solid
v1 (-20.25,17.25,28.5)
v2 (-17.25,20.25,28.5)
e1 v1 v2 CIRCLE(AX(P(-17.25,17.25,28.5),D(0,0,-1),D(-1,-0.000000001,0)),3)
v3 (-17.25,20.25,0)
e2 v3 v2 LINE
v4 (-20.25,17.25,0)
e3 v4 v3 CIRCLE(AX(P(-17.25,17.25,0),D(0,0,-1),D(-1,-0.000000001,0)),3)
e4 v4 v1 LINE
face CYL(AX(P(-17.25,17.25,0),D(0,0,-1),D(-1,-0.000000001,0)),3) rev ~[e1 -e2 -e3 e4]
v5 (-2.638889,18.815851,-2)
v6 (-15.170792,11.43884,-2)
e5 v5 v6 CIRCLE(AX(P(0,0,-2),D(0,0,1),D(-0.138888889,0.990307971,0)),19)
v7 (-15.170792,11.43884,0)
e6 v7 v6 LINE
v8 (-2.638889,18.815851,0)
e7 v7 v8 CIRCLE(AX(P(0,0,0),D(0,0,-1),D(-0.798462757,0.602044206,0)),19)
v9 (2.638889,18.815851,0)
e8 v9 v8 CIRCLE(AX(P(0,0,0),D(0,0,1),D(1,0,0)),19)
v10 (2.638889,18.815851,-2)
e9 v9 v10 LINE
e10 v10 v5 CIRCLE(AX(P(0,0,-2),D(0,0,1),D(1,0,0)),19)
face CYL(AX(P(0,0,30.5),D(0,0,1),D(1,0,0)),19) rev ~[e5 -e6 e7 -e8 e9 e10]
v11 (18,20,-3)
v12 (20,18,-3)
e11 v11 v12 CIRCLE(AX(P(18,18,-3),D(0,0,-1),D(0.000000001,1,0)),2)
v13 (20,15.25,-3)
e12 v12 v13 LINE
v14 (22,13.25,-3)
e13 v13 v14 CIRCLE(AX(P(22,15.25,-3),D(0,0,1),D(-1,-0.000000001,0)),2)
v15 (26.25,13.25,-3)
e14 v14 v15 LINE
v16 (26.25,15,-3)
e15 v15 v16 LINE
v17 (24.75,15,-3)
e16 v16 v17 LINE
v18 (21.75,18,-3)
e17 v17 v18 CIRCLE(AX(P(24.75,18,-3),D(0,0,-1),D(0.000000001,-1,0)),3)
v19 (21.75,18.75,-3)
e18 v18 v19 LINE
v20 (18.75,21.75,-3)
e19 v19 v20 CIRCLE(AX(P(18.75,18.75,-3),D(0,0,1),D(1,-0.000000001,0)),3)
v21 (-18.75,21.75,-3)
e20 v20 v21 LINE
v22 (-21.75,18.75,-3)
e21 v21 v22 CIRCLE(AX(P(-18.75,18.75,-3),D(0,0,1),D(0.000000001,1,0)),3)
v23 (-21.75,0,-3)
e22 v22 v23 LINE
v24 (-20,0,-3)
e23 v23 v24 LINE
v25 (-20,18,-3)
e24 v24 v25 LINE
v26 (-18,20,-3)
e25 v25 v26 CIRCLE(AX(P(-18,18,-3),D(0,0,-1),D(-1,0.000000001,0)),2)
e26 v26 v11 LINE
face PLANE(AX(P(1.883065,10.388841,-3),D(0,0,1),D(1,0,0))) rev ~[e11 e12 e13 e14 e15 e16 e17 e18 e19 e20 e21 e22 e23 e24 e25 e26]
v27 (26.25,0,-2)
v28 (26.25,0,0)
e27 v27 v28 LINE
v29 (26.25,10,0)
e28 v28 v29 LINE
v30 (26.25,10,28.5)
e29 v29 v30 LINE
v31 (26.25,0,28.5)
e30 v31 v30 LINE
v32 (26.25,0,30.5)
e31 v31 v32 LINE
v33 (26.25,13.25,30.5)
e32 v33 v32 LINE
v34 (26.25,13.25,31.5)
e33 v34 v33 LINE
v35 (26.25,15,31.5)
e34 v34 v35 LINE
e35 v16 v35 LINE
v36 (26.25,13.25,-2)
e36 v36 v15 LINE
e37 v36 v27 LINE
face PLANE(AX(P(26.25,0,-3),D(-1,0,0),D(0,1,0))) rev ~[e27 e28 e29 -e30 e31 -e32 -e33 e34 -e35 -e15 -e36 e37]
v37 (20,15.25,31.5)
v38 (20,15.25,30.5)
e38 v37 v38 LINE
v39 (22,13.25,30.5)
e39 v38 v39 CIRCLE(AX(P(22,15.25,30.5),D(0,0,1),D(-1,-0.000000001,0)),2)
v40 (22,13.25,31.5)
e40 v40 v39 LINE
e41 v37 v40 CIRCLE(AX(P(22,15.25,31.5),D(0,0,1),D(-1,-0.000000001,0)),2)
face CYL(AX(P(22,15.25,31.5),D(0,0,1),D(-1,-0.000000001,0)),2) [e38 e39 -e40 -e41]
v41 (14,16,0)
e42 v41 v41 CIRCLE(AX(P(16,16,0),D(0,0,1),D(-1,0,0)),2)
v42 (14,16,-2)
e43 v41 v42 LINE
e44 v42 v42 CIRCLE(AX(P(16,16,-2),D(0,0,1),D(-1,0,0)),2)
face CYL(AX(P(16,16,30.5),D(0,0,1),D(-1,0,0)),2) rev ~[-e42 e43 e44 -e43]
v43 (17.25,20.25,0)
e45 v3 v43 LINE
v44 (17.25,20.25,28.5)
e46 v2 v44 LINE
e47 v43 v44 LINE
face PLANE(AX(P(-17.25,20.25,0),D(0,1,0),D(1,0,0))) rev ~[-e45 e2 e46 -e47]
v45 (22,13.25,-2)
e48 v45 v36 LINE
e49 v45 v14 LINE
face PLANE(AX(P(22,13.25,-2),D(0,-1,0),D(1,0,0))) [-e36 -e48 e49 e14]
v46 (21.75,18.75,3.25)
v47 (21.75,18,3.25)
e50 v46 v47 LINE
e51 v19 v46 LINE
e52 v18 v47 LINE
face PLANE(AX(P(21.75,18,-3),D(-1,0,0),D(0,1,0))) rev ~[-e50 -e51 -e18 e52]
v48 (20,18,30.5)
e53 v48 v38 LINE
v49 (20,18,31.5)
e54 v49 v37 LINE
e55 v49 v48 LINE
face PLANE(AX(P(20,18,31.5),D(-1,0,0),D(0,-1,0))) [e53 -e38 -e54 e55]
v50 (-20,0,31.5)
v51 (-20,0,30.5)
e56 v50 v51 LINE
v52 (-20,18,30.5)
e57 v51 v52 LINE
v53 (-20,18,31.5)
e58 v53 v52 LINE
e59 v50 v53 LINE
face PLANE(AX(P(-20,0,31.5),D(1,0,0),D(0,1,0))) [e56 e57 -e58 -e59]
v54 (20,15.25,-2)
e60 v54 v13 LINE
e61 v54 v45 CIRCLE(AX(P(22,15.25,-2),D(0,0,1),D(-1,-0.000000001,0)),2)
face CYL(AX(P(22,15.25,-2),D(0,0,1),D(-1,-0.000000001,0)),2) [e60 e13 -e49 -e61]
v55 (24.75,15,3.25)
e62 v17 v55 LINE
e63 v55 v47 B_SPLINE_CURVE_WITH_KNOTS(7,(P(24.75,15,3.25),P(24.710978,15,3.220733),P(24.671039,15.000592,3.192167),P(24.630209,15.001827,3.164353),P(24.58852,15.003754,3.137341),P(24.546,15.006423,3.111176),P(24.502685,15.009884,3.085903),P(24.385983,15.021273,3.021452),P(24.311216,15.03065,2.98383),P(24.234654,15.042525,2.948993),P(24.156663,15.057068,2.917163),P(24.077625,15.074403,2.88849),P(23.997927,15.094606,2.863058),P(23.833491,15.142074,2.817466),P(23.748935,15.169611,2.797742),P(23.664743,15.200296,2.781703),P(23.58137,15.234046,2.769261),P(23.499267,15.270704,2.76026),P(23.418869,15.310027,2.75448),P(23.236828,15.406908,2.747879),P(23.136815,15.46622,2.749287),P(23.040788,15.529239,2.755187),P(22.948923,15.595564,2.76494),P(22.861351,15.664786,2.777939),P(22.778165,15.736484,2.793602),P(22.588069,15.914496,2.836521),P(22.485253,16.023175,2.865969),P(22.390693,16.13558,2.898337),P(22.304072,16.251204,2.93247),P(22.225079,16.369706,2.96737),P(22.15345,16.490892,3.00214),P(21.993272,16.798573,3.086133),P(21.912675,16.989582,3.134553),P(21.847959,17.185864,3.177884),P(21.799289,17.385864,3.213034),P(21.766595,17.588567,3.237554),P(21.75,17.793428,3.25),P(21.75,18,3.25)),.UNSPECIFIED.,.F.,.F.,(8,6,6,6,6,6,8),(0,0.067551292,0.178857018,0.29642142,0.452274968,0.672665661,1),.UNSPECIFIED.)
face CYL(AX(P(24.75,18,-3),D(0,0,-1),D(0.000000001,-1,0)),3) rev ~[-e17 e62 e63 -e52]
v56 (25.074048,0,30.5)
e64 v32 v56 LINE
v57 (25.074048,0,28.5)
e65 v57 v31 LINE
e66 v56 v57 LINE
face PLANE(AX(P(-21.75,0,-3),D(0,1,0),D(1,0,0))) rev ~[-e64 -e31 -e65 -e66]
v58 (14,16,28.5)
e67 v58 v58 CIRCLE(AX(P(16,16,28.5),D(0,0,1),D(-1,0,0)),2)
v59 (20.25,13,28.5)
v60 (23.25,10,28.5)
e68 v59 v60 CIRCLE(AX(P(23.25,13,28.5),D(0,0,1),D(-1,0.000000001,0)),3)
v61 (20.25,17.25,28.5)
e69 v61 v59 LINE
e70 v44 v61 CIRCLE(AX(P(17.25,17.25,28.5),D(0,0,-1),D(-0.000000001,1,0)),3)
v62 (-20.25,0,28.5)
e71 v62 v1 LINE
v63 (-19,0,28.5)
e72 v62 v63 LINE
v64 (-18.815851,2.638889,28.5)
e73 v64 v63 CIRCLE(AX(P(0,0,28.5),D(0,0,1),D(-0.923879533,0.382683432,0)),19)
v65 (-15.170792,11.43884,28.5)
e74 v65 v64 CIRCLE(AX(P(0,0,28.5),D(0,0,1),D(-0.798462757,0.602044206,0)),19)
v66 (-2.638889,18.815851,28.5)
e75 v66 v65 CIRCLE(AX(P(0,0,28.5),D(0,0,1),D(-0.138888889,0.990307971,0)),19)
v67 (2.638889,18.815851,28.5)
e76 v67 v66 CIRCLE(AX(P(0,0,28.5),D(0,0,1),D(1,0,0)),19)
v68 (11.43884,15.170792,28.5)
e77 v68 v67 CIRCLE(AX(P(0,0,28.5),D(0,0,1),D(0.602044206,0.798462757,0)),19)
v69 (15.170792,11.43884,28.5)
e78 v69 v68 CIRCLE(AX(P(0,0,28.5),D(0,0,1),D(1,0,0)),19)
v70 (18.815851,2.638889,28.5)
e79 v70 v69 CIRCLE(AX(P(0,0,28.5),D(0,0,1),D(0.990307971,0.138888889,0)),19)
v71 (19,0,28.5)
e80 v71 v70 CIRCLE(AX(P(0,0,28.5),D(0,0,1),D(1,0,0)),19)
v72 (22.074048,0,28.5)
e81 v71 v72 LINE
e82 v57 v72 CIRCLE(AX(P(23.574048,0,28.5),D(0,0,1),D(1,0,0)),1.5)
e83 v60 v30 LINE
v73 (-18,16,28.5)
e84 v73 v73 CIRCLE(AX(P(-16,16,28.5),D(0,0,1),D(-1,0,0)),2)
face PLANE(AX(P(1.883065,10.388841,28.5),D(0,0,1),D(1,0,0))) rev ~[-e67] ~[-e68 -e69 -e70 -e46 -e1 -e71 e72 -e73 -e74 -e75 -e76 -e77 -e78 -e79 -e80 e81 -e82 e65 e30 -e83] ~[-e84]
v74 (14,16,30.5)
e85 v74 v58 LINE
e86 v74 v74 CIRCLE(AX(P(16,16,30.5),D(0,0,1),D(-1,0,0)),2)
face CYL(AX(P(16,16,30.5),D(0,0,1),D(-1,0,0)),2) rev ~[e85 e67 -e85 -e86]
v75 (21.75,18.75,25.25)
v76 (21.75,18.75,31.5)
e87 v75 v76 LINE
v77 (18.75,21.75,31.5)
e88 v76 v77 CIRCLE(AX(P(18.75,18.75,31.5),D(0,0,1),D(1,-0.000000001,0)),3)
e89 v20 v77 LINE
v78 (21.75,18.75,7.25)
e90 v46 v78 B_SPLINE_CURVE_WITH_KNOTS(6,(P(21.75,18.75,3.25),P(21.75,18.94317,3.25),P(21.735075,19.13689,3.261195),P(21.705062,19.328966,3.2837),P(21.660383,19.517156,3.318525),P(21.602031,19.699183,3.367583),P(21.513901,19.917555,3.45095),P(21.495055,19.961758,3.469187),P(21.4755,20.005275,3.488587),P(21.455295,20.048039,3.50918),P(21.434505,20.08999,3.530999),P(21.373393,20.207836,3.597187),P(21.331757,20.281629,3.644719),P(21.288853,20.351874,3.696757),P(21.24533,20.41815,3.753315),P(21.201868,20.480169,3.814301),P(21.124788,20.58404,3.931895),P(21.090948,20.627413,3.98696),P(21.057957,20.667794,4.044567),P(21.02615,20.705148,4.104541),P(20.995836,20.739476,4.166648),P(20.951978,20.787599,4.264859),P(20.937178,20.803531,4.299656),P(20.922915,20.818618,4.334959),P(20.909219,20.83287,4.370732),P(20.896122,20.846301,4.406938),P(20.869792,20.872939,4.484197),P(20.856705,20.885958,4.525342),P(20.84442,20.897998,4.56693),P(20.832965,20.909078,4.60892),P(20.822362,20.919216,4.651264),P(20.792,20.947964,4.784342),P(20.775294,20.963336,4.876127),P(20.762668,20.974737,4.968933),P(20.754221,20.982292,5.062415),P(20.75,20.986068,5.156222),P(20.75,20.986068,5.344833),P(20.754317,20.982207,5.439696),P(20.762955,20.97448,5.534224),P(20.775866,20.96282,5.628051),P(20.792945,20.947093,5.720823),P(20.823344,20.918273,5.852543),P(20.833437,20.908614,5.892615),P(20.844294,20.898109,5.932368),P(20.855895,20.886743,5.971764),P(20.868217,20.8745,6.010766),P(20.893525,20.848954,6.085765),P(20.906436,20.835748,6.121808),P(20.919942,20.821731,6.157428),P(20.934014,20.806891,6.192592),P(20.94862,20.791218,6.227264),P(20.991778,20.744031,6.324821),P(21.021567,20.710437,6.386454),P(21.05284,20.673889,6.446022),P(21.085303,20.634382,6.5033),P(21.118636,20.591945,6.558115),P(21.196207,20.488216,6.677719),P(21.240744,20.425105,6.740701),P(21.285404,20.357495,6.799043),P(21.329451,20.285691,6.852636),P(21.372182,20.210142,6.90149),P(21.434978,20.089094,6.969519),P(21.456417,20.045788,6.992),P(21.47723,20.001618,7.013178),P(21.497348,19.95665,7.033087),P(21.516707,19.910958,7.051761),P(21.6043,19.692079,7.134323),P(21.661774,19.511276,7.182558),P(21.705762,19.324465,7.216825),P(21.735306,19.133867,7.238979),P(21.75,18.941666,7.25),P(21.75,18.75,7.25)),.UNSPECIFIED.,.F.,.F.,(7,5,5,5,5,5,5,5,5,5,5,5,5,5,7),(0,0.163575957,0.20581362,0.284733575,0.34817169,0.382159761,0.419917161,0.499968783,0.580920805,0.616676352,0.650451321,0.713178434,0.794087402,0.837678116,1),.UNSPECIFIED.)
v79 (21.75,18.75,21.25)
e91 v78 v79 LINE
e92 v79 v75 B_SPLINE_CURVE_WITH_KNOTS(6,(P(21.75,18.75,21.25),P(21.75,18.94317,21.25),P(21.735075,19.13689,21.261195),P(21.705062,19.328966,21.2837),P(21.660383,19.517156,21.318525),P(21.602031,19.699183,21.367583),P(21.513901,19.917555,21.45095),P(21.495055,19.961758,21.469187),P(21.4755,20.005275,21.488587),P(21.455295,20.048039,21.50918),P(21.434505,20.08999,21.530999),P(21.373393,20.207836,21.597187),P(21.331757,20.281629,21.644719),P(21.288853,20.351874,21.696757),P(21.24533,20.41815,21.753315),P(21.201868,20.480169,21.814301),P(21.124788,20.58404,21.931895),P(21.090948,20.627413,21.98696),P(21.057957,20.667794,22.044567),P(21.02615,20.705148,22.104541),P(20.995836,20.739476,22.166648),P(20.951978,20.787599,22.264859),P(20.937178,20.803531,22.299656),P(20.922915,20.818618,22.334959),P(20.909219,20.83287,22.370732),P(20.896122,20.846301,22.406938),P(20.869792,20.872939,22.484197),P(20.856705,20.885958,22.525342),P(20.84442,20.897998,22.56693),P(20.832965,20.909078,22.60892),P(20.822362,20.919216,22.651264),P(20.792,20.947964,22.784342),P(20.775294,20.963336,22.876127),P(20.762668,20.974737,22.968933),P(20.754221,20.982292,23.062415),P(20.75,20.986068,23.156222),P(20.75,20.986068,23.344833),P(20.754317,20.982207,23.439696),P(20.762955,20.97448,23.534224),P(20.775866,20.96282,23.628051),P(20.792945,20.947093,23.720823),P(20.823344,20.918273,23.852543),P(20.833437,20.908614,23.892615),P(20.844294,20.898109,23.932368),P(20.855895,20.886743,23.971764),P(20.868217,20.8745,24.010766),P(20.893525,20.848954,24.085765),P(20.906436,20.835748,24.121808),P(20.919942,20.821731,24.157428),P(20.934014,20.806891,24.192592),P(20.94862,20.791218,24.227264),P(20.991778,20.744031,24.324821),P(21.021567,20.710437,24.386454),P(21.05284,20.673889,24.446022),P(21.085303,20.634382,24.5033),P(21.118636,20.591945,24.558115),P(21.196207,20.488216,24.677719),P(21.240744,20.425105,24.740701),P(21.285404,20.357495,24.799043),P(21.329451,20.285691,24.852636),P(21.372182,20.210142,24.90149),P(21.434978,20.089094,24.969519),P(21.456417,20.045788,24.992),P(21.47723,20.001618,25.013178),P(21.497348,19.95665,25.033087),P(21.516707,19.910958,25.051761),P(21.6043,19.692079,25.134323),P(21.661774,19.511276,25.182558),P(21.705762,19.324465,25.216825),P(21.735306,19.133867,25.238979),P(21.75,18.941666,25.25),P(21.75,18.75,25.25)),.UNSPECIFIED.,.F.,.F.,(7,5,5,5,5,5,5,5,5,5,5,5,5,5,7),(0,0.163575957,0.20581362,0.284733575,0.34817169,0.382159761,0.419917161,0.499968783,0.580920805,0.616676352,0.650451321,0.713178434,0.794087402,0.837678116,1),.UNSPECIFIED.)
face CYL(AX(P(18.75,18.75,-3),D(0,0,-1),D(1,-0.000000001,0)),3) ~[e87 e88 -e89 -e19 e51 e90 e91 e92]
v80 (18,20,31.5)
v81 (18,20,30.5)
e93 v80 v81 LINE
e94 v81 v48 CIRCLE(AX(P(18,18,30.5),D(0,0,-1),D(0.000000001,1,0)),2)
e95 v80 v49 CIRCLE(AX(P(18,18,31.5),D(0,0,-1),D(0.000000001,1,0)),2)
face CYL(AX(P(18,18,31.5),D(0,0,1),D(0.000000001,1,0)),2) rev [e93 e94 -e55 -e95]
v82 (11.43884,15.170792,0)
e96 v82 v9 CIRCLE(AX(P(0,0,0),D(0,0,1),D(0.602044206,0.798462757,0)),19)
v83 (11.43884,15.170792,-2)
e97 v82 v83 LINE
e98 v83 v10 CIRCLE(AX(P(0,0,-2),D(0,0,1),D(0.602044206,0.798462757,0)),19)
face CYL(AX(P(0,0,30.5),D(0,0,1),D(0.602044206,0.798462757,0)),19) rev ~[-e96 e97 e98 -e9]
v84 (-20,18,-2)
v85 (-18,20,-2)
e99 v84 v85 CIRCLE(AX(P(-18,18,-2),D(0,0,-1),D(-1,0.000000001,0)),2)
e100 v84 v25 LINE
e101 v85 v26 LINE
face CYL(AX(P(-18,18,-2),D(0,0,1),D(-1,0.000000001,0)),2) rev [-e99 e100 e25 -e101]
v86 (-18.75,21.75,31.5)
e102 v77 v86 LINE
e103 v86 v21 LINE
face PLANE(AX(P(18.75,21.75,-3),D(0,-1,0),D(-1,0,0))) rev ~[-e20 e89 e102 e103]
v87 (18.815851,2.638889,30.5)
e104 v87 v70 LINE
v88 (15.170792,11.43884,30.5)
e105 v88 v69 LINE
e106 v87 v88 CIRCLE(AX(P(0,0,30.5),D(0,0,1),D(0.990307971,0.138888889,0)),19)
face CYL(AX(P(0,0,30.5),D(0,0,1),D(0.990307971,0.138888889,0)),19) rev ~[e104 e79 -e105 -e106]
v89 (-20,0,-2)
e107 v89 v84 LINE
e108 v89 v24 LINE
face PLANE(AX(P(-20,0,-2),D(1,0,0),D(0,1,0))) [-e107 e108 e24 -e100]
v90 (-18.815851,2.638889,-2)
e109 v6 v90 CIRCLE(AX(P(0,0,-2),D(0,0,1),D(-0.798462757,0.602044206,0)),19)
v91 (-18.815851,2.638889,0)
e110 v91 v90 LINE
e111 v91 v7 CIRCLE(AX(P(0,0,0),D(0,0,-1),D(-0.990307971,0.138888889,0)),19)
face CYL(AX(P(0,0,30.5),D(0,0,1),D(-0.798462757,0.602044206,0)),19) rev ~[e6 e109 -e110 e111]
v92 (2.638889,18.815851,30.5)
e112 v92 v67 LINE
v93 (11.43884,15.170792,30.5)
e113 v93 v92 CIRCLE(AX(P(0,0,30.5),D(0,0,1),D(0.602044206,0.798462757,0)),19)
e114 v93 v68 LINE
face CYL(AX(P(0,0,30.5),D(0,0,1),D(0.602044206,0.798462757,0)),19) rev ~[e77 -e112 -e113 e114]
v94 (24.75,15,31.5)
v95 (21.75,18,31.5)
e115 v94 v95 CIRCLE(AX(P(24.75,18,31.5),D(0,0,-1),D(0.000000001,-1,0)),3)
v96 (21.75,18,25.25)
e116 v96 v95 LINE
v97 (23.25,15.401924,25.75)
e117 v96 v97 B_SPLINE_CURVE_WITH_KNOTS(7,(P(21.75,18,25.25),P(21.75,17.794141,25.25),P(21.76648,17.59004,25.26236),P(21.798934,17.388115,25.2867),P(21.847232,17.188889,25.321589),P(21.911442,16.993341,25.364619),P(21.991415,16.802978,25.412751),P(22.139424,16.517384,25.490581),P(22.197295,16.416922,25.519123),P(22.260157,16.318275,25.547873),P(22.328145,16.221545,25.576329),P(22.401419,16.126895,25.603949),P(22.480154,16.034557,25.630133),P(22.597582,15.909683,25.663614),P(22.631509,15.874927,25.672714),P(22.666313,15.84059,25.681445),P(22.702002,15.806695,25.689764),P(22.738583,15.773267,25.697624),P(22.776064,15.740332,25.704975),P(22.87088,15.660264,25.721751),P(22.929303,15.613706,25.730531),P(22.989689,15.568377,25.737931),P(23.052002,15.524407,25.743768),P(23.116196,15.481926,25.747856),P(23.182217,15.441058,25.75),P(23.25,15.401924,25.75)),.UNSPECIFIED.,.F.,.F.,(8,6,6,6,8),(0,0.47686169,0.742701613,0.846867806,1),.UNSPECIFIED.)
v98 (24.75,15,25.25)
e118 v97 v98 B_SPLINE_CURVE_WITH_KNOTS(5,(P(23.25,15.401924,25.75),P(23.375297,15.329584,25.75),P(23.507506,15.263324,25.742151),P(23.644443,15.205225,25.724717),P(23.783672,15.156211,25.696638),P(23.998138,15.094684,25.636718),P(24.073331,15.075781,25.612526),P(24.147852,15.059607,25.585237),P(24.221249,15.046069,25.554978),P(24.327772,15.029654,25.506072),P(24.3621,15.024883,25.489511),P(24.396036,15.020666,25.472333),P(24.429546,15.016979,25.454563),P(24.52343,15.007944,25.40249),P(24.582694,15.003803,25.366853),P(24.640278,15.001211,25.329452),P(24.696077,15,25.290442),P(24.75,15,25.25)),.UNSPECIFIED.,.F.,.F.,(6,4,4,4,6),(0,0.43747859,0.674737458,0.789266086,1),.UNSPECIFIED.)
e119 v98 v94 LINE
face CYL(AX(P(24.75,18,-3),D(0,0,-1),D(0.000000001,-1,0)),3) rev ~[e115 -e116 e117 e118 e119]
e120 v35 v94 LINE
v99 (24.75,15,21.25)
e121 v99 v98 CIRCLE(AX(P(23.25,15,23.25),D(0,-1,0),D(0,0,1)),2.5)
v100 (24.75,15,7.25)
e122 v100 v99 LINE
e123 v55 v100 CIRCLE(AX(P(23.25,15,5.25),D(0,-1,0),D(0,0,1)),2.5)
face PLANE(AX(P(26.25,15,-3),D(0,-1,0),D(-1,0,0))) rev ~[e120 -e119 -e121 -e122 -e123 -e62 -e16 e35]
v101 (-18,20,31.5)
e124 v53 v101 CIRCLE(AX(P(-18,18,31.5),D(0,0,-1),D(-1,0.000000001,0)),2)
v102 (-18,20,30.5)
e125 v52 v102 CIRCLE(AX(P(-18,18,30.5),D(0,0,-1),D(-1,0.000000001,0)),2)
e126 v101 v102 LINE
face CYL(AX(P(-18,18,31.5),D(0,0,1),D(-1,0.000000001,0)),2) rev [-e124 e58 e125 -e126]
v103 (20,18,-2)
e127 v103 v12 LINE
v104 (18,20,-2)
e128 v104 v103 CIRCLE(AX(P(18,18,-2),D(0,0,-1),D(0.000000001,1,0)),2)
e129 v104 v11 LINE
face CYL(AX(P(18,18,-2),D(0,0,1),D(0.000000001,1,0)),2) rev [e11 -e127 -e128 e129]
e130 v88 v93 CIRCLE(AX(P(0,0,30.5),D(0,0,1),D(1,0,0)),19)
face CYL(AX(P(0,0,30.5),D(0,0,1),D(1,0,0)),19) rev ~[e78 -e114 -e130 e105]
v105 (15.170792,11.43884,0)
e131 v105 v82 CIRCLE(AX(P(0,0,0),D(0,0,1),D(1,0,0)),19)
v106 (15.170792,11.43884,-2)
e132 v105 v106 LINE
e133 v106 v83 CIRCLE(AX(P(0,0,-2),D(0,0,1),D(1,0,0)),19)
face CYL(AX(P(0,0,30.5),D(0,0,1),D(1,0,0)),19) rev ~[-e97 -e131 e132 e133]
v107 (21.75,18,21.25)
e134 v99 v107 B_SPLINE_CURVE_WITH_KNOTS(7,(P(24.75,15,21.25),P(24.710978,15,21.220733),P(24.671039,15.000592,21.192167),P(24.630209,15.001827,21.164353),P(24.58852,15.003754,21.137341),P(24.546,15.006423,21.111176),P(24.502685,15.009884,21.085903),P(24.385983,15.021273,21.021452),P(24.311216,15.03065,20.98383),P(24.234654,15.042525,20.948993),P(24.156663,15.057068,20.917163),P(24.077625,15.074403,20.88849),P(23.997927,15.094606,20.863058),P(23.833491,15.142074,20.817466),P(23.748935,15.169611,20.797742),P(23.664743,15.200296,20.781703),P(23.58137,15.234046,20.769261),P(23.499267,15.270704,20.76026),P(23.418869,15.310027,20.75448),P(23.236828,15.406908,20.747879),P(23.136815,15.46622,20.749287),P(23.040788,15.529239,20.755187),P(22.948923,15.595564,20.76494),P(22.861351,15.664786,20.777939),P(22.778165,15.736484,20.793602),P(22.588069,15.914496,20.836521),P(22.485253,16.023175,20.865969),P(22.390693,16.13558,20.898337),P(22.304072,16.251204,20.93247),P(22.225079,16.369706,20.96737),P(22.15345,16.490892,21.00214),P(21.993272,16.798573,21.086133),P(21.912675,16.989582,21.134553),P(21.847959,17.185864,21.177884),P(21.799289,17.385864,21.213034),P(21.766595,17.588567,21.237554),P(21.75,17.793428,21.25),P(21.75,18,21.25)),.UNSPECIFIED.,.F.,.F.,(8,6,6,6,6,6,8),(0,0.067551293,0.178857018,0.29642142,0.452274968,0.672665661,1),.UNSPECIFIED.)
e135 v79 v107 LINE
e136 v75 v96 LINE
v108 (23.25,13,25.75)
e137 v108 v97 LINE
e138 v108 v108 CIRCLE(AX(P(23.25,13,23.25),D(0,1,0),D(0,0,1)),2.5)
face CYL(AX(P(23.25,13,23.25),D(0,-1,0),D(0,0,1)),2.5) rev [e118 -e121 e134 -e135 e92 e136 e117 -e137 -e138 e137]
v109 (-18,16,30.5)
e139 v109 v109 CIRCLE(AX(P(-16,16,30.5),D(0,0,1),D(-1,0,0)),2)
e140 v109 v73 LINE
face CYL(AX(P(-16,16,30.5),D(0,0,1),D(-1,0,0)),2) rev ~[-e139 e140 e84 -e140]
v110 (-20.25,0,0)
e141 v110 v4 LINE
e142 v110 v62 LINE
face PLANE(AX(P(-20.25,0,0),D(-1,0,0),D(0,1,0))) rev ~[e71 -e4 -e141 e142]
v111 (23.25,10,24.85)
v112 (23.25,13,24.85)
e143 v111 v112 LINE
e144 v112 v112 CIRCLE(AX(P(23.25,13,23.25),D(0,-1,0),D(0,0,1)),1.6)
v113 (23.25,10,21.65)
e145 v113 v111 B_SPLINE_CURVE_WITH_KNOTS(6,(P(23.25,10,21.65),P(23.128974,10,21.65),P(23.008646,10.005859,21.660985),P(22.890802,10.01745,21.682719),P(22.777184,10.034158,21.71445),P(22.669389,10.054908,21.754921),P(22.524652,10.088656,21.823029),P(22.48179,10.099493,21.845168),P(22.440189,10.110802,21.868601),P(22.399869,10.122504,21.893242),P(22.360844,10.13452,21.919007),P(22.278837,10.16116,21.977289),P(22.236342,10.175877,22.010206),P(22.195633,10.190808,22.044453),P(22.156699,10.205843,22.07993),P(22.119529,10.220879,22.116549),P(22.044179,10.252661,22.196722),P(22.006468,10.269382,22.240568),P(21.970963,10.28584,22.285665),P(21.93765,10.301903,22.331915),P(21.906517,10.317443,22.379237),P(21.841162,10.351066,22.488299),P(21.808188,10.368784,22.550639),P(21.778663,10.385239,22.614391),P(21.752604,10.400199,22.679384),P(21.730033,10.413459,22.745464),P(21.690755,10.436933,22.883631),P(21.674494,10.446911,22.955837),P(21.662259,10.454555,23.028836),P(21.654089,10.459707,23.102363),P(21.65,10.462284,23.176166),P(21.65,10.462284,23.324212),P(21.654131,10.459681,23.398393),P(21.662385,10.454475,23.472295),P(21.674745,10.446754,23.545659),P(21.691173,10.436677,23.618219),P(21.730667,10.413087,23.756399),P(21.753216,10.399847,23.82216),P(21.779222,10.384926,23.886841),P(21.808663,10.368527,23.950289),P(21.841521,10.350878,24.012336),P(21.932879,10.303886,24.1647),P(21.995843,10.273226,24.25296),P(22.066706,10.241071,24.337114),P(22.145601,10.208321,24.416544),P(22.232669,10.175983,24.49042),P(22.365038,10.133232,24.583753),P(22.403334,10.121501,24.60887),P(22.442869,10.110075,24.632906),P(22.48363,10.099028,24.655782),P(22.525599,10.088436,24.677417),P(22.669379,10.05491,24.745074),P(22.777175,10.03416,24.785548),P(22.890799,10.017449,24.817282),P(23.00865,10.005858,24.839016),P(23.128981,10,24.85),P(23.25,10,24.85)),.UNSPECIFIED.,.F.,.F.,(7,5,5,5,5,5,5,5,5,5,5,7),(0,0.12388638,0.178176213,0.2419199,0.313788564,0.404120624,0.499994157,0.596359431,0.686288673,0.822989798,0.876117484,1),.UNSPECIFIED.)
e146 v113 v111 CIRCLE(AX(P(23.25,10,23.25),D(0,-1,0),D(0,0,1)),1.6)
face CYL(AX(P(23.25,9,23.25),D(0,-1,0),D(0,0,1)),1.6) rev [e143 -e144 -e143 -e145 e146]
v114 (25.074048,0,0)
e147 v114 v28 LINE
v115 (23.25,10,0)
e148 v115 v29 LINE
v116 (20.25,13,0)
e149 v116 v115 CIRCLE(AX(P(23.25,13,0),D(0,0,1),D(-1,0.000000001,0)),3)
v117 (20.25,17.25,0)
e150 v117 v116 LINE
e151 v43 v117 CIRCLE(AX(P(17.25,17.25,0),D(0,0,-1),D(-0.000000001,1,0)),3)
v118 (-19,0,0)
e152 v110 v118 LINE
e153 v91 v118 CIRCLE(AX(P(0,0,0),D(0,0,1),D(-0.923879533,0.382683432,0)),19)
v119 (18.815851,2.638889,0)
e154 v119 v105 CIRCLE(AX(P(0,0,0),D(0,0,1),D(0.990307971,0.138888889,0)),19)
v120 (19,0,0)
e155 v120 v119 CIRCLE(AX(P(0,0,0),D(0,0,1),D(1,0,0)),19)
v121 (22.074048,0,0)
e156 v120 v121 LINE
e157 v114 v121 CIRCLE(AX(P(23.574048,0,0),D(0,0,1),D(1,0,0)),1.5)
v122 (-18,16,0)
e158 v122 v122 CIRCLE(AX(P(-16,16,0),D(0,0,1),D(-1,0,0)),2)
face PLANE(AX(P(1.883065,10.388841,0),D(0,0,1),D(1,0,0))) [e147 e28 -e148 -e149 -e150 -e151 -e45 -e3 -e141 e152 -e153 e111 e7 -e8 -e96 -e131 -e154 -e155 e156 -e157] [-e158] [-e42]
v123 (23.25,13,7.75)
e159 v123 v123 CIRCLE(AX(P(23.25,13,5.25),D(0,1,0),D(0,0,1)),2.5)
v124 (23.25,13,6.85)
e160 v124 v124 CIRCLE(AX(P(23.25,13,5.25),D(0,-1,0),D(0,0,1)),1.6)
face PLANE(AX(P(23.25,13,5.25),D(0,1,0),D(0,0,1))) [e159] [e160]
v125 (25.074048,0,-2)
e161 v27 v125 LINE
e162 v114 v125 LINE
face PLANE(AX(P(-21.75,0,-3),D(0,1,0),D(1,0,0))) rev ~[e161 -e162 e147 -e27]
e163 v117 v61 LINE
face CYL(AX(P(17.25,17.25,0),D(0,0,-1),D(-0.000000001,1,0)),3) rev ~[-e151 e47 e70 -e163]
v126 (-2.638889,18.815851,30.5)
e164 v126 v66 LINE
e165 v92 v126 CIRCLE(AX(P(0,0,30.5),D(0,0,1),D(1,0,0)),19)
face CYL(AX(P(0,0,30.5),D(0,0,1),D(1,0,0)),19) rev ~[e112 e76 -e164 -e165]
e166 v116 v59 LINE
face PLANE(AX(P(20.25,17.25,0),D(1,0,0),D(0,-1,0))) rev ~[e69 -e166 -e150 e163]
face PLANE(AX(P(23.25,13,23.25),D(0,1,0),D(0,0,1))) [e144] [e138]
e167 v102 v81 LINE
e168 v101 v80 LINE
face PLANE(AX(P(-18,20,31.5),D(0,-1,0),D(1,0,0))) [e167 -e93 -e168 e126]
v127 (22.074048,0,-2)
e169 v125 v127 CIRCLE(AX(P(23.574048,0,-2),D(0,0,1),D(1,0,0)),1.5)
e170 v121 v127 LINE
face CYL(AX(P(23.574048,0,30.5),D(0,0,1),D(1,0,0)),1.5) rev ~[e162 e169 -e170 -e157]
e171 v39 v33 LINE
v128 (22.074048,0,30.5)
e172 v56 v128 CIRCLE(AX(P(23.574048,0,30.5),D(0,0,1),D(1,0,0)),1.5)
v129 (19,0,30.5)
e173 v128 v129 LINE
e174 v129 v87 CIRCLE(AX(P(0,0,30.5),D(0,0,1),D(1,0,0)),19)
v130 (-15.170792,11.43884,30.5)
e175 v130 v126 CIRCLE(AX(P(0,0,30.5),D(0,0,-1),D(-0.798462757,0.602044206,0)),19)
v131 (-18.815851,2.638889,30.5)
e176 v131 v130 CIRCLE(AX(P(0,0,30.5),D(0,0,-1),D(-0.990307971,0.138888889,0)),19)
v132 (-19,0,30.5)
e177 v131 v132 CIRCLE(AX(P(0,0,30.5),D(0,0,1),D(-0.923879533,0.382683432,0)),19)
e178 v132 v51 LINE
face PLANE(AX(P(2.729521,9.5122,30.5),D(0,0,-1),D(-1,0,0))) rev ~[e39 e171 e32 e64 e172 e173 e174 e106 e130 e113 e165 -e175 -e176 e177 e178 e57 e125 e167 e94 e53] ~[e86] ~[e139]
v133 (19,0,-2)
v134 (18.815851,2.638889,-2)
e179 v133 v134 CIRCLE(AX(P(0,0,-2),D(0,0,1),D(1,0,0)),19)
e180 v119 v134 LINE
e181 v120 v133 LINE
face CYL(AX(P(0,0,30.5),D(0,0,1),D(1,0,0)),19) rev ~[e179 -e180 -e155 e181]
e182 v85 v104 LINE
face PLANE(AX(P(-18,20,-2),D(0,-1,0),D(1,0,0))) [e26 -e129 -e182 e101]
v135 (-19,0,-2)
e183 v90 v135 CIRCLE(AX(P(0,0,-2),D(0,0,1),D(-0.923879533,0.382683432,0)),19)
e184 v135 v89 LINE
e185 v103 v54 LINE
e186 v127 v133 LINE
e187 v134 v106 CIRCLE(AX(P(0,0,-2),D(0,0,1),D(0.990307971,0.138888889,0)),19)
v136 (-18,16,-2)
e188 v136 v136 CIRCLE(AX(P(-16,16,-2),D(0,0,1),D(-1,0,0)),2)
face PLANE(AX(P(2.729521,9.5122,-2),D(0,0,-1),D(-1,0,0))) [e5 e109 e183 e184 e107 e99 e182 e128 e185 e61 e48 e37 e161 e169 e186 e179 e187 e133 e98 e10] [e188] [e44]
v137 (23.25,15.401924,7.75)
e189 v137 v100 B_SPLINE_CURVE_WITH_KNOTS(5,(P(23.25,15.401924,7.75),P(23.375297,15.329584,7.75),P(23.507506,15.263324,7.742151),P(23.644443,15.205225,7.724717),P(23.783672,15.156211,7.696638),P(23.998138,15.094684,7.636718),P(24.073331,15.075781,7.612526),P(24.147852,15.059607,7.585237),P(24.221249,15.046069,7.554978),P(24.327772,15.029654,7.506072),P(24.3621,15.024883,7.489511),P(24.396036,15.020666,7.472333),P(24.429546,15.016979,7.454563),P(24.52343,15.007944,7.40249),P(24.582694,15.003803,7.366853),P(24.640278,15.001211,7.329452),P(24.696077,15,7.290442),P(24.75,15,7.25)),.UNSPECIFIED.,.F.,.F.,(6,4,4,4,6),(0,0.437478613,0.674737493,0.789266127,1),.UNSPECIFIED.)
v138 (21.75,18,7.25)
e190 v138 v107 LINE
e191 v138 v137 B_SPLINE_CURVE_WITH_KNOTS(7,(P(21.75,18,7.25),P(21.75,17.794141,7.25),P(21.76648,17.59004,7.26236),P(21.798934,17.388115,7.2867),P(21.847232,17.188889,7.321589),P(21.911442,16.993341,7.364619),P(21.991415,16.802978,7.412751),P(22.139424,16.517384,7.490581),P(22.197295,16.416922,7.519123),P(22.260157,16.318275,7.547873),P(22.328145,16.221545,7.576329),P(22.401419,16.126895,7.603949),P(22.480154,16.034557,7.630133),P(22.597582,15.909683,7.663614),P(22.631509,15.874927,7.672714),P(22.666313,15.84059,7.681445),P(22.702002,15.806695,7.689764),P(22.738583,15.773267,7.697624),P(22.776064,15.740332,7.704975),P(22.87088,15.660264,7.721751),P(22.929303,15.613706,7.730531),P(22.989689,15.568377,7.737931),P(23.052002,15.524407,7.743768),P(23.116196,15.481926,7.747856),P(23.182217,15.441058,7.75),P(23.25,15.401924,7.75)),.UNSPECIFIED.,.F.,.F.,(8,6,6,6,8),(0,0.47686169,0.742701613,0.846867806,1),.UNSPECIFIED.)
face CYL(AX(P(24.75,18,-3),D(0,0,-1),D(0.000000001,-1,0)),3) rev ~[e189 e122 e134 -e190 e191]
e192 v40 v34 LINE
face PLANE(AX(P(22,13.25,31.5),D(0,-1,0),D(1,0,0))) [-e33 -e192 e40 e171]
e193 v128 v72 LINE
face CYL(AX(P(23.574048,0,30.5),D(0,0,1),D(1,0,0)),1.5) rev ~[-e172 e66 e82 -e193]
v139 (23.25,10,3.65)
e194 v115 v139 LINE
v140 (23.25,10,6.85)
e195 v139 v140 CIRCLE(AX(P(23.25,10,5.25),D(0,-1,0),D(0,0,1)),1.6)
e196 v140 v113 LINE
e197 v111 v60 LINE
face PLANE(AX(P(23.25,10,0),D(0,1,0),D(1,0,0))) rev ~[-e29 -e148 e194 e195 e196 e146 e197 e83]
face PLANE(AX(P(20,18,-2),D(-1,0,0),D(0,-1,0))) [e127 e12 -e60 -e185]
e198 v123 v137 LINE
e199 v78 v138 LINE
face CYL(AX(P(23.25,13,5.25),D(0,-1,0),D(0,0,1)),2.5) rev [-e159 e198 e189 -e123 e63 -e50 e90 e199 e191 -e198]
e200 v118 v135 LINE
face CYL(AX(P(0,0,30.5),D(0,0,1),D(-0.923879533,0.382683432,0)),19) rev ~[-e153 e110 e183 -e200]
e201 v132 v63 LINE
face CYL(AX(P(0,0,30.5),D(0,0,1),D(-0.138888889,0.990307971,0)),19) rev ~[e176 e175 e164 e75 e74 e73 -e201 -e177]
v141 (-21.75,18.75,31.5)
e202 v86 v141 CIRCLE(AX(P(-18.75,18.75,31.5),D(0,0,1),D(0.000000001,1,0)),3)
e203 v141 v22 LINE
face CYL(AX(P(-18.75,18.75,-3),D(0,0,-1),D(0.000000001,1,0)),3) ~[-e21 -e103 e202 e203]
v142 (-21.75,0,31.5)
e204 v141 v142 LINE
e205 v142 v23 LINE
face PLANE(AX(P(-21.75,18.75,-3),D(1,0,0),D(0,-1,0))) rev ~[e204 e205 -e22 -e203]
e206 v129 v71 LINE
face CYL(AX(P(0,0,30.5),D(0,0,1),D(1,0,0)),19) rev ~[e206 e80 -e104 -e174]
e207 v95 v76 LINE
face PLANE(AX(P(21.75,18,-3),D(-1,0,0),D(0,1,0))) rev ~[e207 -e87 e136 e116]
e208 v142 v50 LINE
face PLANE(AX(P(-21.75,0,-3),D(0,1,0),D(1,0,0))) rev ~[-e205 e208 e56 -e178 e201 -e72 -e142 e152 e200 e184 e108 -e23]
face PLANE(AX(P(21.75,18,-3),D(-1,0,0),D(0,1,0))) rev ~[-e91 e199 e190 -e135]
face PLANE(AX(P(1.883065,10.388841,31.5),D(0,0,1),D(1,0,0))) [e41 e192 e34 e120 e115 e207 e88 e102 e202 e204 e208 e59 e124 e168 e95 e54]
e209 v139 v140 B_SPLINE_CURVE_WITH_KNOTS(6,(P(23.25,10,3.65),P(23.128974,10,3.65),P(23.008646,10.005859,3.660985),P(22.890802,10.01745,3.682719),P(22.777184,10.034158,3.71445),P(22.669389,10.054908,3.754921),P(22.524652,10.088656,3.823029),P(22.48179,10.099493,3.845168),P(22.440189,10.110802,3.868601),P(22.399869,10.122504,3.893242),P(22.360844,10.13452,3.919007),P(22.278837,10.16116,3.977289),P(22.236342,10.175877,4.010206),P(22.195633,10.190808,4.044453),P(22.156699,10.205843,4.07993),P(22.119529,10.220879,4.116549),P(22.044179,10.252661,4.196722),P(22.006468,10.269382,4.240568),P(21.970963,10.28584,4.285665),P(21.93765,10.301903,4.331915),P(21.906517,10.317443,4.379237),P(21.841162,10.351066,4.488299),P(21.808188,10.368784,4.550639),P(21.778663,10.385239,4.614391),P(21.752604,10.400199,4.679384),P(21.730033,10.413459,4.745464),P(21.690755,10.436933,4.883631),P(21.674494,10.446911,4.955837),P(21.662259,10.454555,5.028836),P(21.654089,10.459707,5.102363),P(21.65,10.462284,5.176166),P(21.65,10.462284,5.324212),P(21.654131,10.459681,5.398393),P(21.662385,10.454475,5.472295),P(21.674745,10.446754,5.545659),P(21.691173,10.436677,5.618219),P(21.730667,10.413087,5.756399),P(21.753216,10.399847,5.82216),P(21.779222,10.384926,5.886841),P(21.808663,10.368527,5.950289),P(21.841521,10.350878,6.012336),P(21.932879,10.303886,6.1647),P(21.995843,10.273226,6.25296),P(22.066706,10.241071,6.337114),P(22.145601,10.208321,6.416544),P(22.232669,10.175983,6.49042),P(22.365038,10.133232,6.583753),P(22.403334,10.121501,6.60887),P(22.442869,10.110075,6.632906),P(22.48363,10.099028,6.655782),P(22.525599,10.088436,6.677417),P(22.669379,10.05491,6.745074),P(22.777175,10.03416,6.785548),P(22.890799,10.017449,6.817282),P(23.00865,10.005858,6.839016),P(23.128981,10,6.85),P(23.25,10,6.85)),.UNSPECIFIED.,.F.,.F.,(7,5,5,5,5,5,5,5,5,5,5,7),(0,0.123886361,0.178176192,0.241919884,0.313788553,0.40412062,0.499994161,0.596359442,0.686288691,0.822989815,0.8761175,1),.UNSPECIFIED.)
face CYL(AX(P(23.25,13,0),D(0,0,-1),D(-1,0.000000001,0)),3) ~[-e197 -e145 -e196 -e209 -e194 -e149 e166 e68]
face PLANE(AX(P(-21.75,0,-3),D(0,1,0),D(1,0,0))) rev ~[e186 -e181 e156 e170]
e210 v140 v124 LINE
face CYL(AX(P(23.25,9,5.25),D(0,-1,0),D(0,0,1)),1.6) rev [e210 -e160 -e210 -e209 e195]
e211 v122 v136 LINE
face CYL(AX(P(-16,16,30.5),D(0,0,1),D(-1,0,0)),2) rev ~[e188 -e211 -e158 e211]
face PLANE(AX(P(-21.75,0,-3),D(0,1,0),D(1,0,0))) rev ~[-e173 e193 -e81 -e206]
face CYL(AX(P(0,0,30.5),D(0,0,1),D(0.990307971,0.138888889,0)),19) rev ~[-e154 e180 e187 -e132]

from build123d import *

# Parameters (mm, degrees)
EXTRUDE_1_DEPTH          = 28.5
EXTRUDE_2_DEPTH          = 3
EXTRUDE_START            = 3
EXTRUDE_3_DEPTH          = 3
CUT_EXTRUDE_1_DEPTH      = 1
CUT_EXTRUDE_START        = -1
CUT_EXTRUDE_2_DEPTH      = 1
SKETCH_6_R               = 2
CUT_EXTRUDE_3_DEPTH      = 33
CUT_EXTRUDE_5_DEPTH      = 6
CUT_EXTRUDE_5_DEPTH_BACK = 6
SKETCH_7_R               = 1.6
CUT_EXTRUDE_6_DEPTH      = 6
CUT_EXTRUDE_6_DEPTH_BACK = 2
SKETCH_8_R               = 2.5
CUT_EXTRUDE_START_2      = 30.5
CUT_EXTRUDE_7_DEPTH      = 32.5


with BuildPart() as part:
    # 草图1 → 凸台-拉伸1 (new body)
    with BuildSketch(Plane.XY):
        with BuildLine():
            Line((-20.25, 0), (-20.25, 17.25))
            ThreePointArc((-20.25, 17.25), (-19.371320344, 19.371320344), (-17.25, 20.25))
            Line((-17.25, 20.25), (17.25, 20.25))
            ThreePointArc((17.25, 20.25), (19.371320344, 19.371320344), (20.25, 17.25))
            Line((20.25, 17.25), (20.25, 13))
            ThreePointArc((20.25, 13), (21.128679656, 10.878679656), (23.25, 10))
            Line((23.25, 10), (26.25, 10))
            Line((26.25, 10), (26.25, 15))
            Line((26.25, 15), (24.75, 15))
            ThreePointArc((24.75, 15), (22.628679656, 15.878679656), (21.75, 18))
            Line((21.75, 18), (21.75, 18.75))
            ThreePointArc((21.75, 18.75), (20.871320344, 20.871320344), (18.75, 21.75))
            Line((18.75, 21.75), (0, 21.75))
            Line((0, 21.75), (-18.75, 21.75))
            ThreePointArc((-18.75, 21.75), (-20.871320344, 20.871320344), (-21.75, 18.75))
            Line((-21.75, 18.75), (-21.75, 0))
            Line((-21.75, 0), (-20.25, 0))
        make_face()
    extrude(amount=EXTRUDE_1_DEPTH)

    # 草图2 → 凸台-拉伸2 (add)
    with BuildSketch(Plane.XY.offset(28.5)):
        with BuildLine():
            Line((-21.75, 0), (26.25, 0))
            Line((26.25, 0), (26.25, 15))
            Line((26.25, 15), (24.75, 15))
            ThreePointArc((24.75, 15), (22.628679656, 15.878679656), (21.75, 18))
            Line((21.75, 18), (21.75, 18.75))
            ThreePointArc((21.75, 18.75), (20.871320344, 20.871320344), (18.75, 21.75))
            Line((18.75, 21.75), (-18.75, 21.75))
            ThreePointArc((-18.75, 21.75), (-20.871320344, 20.871320344), (-21.75, 18.75))
            Line((-21.75, 18.75), (-21.75, 0))
        make_face()
    extrude(amount=EXTRUDE_2_DEPTH)

    # 草图3 → 凸台-拉伸3 (add)
    with BuildSketch(Plane(origin=(0, 0, 0), x_dir=(-1, 0, 0), z_dir=(0, 0, -1)).offset(EXTRUDE_START)):
        with BuildLine():
            Line((21.75, 0), (-26.25, 0))
            Line((-26.25, 0), (-26.25, 15))
            Line((-26.25, 15), (-24.75, 15))
            ThreePointArc((-24.75, 15), (-22.628679656, 15.878679656), (-21.75, 18))
            Line((-21.75, 18), (-21.75, 18.75))
            ThreePointArc((-21.75, 18.75), (-20.871320344, 20.871320344), (-18.75, 21.75))
            Line((-18.75, 21.75), (18.75, 21.75))
            ThreePointArc((18.75, 21.75), (20.871320344, 20.871320344), (21.75, 18.75))
            Line((21.75, 18.75), (21.75, 0))
        make_face()
    extrude(amount=-EXTRUDE_3_DEPTH)

    # 草图4 → 切除-拉伸1 (cut)
    with BuildSketch(Plane.XY.offset(31.5)):
        with BuildLine():
            Line((26.25, 13.25), (26.25, 0))
            Line((26.25, 0), (-20, 0))
            Line((-20, 0), (-20, 18))
            ThreePointArc((-20, 18), (-19.414213562, 19.414213562), (-18, 20))
            Line((-18, 20), (18, 20))
            ThreePointArc((18, 20), (19.414213562, 19.414213562), (20, 18))
            Line((20, 18), (20, 15.25))
            ThreePointArc((20, 15.25), (20.585786438, 13.835786438), (22, 13.25))
            Line((22, 13.25), (26.25, 13.25))
        make_face()
    extrude(amount=-CUT_EXTRUDE_1_DEPTH, mode=Mode.SUBTRACT)

    # 草图5 → 切除-拉伸2 (cut)
    with BuildSketch(Plane(origin=(0, 0, -3), x_dir=(-1, 0, 0), z_dir=(0, 0, -1)).offset(CUT_EXTRUDE_START)):
        with BuildLine():
            Line((0, 0), (20, 0))
            Line((20, 0), (20, 18))
            ThreePointArc((20, 18), (19.414213562, 19.414213562), (18, 20))
            Line((18, 20), (-18, 20))
            ThreePointArc((-18, 20), (-19.414213562, 19.414213562), (-20, 18))
            Line((-20, 18), (-20, 15.25))
            ThreePointArc((-20, 15.25), (-20.585786438, 13.835786438), (-22, 13.25))
            Line((-22, 13.25), (-26.25, 13.25))
            Line((-26.25, 13.25), (-26.25, 0))
            Line((-26.25, 0), (0, 0))
        make_face()
    extrude(amount=CUT_EXTRUDE_2_DEPTH, mode=Mode.SUBTRACT)

    # 草图6 → 切除-拉伸3 (cut)
    with BuildSketch(Plane.XY.offset(30.5)):
        with Locations(Location((-16, 16, 0), (0, 0, 180))):
            Circle(SKETCH_6_R)
        with Locations(Location((16, 16, 0), (0, 0, 180))):
            Circle(SKETCH_6_R)
        with BuildLine():
            Line((22.074047969, 0), (25.074047969, 0))
            ThreePointArc((25.074047969, 0), (23.574047969, 1.5), (22.074047969, 0))
        make_face()
        with BuildLine():
            Line((-11.543902494, 13.665222838), (-5.052849459, 7.174169802))
            ThreePointArc((-5.052849459, 7.174169802), (-4.48601855, 6.891164125), (-3.86288238, 7.005579185))
            ThreePointArc((-3.86288238, 7.005579185), (-3.061467459, 7.39103626), (-2.222222222, 7.685162874))
            ThreePointArc((-2.222222222, 7.685162874), (-1.700694746, 8.04488302), (-1.5, 8.645808233))
            Line((-1.5, 8.645808233), (-1.5, 17.82554347))
            ThreePointArc((-1.5, 17.82554347), (-1.843832677, 18.580158898), (-2.638888889, 18.815851441))
            ThreePointArc((-2.638888889, 18.815851441), (-7.270985215, 17.553711118), (-11.438839919, 15.170792376))
            ThreePointArc((-11.438839919, 15.170792376), (-11.834369763, 14.441942942), (-11.543902494, 13.665222838))
        make_face()
        with BuildLine():
            Line((1.5, 17.82554347), (1.5, 8.645808233))
            ThreePointArc((1.5, 8.645808233), (1.700694746, 8.04488302), (2.222222222, 7.685162874))
            ThreePointArc((2.222222222, 7.685162874), (3.061467459, 7.39103626), (3.86288238, 7.005579185))
            ThreePointArc((3.86288238, 7.005579185), (4.48601855, 6.891164125), (5.052849459, 7.174169802))
            Line((5.052849459, 7.174169802), (11.543902494, 13.665222838))
            ThreePointArc((11.543902494, 13.665222838), (11.834369763, 14.441942942), (11.438839919, 15.170792376))
            ThreePointArc((11.438839919, 15.170792376), (7.270985215, 17.553711118), (2.638888889, 18.815851441))
            ThreePointArc((2.638888889, 18.815851441), (1.843832677, 18.580158898), (1.5, 17.82554347))
        make_face()
        with BuildLine():
            Line((13.665222838, 11.543902494), (7.174169802, 5.052849459))
            ThreePointArc((7.174169802, 5.052849459), (6.891164125, 4.48601855), (7.005579185, 3.86288238))
            ThreePointArc((7.005579185, 3.86288238), (7.39103626, 3.061467459), (7.685162874, 2.222222222))
            ThreePointArc((7.685162874, 2.222222222), (8.04488302, 1.700694746), (8.645808233, 1.5))
            Line((8.645808233, 1.5), (17.82554347, 1.5))
            ThreePointArc((17.82554347, 1.5), (18.580158898, 1.843832677), (18.815851441, 2.638888889))
            ThreePointArc((18.815851441, 2.638888889), (17.553711118, 7.270985215), (15.170792376, 11.438839919))
            ThreePointArc((15.170792376, 11.438839919), (14.441942942, 11.834369763), (13.665222838, 11.543902494))
        make_face()
        with BuildLine():
            Line((-4, 0), (4, 0))
            ThreePointArc((4, 0), (0, 4), (-4, 0))
        make_face()
        with BuildLine():
            Line((-17.82554347, 1.5), (-8.645808233, 1.5))
            ThreePointArc((-8.645808233, 1.5), (-8.04488302, 1.700694746), (-7.685162874, 2.222222222))
            ThreePointArc((-7.685162874, 2.222222222), (-7.39103626, 3.061467459), (-7.005579185, 3.86288238))
            ThreePointArc((-7.005579185, 3.86288238), (-6.891164125, 4.48601855), (-7.174169802, 5.052849459))
            Line((-7.174169802, 5.052849459), (-13.665222838, 11.543902494))
            ThreePointArc((-13.665222838, 11.543902494), (-14.441942942, 11.834369763), (-15.170792376, 11.438839919))
            ThreePointArc((-15.170792376, 11.438839919), (-17.553711118, 7.270985215), (-18.815851441, 2.638888889))
            ThreePointArc((-18.815851441, 2.638888889), (-18.580158898, 1.843832677), (-17.82554347, 1.5))
        make_face()
    extrude(amount=-CUT_EXTRUDE_3_DEPTH, mode=Mode.SUBTRACT)

    # 草图7 → 切除-拉伸5 (cut, two sides: drawn at the far end of the back side and taken through both)
    with BuildSketch(Plane(origin=(0, 15, 0), x_dir=(1, 0, 0), z_dir=(0, 1, 0)).offset(-CUT_EXTRUDE_5_DEPTH_BACK)):
        with Locations(Location((23.25, -5.25, 0), (0, 0, 270))):
            Circle(SKETCH_7_R)
        with Locations(Location((23.25, -23.25, 0), (0, 0, 270))):
            Circle(SKETCH_7_R)
    extrude(amount=CUT_EXTRUDE_5_DEPTH + CUT_EXTRUDE_5_DEPTH_BACK, mode=Mode.SUBTRACT)

    # 草图8 → 切除-拉伸6 (cut, two sides: drawn at the far end of the back side and taken through both)
    with BuildSketch(Plane(origin=(0, 15, 0), x_dir=(1, 0, 0), z_dir=(0, 1, 0)).offset(-CUT_EXTRUDE_6_DEPTH_BACK)):
        with Locations(Location((23.25, -5.25, 0), (0, 0, 270))):
            Circle(SKETCH_8_R)
        with Locations(Location((23.25, -23.25, 0), (0, 0, 270))):
            Circle(SKETCH_8_R)
    extrude(amount=CUT_EXTRUDE_6_DEPTH + CUT_EXTRUDE_6_DEPTH_BACK, mode=Mode.SUBTRACT)

    # 草图9 → 切除-拉伸7 (cut)
    with BuildSketch(Plane.XY.offset(CUT_EXTRUDE_START_2)):
        with BuildLine():
            Line((-19, 0), (19, 0))
            ThreePointArc((19, 0), (3.706716118, 18.634920328), (-17.553711118, 7.270985215))
            ThreePointArc((-17.553711118, 7.270985215), (-18.634920328, 3.706716118), (-19, 0))
        make_face()
    extrude(amount=-CUT_EXTRUDE_7_DEPTH, mode=Mode.SUBTRACT)


solid = part.part
